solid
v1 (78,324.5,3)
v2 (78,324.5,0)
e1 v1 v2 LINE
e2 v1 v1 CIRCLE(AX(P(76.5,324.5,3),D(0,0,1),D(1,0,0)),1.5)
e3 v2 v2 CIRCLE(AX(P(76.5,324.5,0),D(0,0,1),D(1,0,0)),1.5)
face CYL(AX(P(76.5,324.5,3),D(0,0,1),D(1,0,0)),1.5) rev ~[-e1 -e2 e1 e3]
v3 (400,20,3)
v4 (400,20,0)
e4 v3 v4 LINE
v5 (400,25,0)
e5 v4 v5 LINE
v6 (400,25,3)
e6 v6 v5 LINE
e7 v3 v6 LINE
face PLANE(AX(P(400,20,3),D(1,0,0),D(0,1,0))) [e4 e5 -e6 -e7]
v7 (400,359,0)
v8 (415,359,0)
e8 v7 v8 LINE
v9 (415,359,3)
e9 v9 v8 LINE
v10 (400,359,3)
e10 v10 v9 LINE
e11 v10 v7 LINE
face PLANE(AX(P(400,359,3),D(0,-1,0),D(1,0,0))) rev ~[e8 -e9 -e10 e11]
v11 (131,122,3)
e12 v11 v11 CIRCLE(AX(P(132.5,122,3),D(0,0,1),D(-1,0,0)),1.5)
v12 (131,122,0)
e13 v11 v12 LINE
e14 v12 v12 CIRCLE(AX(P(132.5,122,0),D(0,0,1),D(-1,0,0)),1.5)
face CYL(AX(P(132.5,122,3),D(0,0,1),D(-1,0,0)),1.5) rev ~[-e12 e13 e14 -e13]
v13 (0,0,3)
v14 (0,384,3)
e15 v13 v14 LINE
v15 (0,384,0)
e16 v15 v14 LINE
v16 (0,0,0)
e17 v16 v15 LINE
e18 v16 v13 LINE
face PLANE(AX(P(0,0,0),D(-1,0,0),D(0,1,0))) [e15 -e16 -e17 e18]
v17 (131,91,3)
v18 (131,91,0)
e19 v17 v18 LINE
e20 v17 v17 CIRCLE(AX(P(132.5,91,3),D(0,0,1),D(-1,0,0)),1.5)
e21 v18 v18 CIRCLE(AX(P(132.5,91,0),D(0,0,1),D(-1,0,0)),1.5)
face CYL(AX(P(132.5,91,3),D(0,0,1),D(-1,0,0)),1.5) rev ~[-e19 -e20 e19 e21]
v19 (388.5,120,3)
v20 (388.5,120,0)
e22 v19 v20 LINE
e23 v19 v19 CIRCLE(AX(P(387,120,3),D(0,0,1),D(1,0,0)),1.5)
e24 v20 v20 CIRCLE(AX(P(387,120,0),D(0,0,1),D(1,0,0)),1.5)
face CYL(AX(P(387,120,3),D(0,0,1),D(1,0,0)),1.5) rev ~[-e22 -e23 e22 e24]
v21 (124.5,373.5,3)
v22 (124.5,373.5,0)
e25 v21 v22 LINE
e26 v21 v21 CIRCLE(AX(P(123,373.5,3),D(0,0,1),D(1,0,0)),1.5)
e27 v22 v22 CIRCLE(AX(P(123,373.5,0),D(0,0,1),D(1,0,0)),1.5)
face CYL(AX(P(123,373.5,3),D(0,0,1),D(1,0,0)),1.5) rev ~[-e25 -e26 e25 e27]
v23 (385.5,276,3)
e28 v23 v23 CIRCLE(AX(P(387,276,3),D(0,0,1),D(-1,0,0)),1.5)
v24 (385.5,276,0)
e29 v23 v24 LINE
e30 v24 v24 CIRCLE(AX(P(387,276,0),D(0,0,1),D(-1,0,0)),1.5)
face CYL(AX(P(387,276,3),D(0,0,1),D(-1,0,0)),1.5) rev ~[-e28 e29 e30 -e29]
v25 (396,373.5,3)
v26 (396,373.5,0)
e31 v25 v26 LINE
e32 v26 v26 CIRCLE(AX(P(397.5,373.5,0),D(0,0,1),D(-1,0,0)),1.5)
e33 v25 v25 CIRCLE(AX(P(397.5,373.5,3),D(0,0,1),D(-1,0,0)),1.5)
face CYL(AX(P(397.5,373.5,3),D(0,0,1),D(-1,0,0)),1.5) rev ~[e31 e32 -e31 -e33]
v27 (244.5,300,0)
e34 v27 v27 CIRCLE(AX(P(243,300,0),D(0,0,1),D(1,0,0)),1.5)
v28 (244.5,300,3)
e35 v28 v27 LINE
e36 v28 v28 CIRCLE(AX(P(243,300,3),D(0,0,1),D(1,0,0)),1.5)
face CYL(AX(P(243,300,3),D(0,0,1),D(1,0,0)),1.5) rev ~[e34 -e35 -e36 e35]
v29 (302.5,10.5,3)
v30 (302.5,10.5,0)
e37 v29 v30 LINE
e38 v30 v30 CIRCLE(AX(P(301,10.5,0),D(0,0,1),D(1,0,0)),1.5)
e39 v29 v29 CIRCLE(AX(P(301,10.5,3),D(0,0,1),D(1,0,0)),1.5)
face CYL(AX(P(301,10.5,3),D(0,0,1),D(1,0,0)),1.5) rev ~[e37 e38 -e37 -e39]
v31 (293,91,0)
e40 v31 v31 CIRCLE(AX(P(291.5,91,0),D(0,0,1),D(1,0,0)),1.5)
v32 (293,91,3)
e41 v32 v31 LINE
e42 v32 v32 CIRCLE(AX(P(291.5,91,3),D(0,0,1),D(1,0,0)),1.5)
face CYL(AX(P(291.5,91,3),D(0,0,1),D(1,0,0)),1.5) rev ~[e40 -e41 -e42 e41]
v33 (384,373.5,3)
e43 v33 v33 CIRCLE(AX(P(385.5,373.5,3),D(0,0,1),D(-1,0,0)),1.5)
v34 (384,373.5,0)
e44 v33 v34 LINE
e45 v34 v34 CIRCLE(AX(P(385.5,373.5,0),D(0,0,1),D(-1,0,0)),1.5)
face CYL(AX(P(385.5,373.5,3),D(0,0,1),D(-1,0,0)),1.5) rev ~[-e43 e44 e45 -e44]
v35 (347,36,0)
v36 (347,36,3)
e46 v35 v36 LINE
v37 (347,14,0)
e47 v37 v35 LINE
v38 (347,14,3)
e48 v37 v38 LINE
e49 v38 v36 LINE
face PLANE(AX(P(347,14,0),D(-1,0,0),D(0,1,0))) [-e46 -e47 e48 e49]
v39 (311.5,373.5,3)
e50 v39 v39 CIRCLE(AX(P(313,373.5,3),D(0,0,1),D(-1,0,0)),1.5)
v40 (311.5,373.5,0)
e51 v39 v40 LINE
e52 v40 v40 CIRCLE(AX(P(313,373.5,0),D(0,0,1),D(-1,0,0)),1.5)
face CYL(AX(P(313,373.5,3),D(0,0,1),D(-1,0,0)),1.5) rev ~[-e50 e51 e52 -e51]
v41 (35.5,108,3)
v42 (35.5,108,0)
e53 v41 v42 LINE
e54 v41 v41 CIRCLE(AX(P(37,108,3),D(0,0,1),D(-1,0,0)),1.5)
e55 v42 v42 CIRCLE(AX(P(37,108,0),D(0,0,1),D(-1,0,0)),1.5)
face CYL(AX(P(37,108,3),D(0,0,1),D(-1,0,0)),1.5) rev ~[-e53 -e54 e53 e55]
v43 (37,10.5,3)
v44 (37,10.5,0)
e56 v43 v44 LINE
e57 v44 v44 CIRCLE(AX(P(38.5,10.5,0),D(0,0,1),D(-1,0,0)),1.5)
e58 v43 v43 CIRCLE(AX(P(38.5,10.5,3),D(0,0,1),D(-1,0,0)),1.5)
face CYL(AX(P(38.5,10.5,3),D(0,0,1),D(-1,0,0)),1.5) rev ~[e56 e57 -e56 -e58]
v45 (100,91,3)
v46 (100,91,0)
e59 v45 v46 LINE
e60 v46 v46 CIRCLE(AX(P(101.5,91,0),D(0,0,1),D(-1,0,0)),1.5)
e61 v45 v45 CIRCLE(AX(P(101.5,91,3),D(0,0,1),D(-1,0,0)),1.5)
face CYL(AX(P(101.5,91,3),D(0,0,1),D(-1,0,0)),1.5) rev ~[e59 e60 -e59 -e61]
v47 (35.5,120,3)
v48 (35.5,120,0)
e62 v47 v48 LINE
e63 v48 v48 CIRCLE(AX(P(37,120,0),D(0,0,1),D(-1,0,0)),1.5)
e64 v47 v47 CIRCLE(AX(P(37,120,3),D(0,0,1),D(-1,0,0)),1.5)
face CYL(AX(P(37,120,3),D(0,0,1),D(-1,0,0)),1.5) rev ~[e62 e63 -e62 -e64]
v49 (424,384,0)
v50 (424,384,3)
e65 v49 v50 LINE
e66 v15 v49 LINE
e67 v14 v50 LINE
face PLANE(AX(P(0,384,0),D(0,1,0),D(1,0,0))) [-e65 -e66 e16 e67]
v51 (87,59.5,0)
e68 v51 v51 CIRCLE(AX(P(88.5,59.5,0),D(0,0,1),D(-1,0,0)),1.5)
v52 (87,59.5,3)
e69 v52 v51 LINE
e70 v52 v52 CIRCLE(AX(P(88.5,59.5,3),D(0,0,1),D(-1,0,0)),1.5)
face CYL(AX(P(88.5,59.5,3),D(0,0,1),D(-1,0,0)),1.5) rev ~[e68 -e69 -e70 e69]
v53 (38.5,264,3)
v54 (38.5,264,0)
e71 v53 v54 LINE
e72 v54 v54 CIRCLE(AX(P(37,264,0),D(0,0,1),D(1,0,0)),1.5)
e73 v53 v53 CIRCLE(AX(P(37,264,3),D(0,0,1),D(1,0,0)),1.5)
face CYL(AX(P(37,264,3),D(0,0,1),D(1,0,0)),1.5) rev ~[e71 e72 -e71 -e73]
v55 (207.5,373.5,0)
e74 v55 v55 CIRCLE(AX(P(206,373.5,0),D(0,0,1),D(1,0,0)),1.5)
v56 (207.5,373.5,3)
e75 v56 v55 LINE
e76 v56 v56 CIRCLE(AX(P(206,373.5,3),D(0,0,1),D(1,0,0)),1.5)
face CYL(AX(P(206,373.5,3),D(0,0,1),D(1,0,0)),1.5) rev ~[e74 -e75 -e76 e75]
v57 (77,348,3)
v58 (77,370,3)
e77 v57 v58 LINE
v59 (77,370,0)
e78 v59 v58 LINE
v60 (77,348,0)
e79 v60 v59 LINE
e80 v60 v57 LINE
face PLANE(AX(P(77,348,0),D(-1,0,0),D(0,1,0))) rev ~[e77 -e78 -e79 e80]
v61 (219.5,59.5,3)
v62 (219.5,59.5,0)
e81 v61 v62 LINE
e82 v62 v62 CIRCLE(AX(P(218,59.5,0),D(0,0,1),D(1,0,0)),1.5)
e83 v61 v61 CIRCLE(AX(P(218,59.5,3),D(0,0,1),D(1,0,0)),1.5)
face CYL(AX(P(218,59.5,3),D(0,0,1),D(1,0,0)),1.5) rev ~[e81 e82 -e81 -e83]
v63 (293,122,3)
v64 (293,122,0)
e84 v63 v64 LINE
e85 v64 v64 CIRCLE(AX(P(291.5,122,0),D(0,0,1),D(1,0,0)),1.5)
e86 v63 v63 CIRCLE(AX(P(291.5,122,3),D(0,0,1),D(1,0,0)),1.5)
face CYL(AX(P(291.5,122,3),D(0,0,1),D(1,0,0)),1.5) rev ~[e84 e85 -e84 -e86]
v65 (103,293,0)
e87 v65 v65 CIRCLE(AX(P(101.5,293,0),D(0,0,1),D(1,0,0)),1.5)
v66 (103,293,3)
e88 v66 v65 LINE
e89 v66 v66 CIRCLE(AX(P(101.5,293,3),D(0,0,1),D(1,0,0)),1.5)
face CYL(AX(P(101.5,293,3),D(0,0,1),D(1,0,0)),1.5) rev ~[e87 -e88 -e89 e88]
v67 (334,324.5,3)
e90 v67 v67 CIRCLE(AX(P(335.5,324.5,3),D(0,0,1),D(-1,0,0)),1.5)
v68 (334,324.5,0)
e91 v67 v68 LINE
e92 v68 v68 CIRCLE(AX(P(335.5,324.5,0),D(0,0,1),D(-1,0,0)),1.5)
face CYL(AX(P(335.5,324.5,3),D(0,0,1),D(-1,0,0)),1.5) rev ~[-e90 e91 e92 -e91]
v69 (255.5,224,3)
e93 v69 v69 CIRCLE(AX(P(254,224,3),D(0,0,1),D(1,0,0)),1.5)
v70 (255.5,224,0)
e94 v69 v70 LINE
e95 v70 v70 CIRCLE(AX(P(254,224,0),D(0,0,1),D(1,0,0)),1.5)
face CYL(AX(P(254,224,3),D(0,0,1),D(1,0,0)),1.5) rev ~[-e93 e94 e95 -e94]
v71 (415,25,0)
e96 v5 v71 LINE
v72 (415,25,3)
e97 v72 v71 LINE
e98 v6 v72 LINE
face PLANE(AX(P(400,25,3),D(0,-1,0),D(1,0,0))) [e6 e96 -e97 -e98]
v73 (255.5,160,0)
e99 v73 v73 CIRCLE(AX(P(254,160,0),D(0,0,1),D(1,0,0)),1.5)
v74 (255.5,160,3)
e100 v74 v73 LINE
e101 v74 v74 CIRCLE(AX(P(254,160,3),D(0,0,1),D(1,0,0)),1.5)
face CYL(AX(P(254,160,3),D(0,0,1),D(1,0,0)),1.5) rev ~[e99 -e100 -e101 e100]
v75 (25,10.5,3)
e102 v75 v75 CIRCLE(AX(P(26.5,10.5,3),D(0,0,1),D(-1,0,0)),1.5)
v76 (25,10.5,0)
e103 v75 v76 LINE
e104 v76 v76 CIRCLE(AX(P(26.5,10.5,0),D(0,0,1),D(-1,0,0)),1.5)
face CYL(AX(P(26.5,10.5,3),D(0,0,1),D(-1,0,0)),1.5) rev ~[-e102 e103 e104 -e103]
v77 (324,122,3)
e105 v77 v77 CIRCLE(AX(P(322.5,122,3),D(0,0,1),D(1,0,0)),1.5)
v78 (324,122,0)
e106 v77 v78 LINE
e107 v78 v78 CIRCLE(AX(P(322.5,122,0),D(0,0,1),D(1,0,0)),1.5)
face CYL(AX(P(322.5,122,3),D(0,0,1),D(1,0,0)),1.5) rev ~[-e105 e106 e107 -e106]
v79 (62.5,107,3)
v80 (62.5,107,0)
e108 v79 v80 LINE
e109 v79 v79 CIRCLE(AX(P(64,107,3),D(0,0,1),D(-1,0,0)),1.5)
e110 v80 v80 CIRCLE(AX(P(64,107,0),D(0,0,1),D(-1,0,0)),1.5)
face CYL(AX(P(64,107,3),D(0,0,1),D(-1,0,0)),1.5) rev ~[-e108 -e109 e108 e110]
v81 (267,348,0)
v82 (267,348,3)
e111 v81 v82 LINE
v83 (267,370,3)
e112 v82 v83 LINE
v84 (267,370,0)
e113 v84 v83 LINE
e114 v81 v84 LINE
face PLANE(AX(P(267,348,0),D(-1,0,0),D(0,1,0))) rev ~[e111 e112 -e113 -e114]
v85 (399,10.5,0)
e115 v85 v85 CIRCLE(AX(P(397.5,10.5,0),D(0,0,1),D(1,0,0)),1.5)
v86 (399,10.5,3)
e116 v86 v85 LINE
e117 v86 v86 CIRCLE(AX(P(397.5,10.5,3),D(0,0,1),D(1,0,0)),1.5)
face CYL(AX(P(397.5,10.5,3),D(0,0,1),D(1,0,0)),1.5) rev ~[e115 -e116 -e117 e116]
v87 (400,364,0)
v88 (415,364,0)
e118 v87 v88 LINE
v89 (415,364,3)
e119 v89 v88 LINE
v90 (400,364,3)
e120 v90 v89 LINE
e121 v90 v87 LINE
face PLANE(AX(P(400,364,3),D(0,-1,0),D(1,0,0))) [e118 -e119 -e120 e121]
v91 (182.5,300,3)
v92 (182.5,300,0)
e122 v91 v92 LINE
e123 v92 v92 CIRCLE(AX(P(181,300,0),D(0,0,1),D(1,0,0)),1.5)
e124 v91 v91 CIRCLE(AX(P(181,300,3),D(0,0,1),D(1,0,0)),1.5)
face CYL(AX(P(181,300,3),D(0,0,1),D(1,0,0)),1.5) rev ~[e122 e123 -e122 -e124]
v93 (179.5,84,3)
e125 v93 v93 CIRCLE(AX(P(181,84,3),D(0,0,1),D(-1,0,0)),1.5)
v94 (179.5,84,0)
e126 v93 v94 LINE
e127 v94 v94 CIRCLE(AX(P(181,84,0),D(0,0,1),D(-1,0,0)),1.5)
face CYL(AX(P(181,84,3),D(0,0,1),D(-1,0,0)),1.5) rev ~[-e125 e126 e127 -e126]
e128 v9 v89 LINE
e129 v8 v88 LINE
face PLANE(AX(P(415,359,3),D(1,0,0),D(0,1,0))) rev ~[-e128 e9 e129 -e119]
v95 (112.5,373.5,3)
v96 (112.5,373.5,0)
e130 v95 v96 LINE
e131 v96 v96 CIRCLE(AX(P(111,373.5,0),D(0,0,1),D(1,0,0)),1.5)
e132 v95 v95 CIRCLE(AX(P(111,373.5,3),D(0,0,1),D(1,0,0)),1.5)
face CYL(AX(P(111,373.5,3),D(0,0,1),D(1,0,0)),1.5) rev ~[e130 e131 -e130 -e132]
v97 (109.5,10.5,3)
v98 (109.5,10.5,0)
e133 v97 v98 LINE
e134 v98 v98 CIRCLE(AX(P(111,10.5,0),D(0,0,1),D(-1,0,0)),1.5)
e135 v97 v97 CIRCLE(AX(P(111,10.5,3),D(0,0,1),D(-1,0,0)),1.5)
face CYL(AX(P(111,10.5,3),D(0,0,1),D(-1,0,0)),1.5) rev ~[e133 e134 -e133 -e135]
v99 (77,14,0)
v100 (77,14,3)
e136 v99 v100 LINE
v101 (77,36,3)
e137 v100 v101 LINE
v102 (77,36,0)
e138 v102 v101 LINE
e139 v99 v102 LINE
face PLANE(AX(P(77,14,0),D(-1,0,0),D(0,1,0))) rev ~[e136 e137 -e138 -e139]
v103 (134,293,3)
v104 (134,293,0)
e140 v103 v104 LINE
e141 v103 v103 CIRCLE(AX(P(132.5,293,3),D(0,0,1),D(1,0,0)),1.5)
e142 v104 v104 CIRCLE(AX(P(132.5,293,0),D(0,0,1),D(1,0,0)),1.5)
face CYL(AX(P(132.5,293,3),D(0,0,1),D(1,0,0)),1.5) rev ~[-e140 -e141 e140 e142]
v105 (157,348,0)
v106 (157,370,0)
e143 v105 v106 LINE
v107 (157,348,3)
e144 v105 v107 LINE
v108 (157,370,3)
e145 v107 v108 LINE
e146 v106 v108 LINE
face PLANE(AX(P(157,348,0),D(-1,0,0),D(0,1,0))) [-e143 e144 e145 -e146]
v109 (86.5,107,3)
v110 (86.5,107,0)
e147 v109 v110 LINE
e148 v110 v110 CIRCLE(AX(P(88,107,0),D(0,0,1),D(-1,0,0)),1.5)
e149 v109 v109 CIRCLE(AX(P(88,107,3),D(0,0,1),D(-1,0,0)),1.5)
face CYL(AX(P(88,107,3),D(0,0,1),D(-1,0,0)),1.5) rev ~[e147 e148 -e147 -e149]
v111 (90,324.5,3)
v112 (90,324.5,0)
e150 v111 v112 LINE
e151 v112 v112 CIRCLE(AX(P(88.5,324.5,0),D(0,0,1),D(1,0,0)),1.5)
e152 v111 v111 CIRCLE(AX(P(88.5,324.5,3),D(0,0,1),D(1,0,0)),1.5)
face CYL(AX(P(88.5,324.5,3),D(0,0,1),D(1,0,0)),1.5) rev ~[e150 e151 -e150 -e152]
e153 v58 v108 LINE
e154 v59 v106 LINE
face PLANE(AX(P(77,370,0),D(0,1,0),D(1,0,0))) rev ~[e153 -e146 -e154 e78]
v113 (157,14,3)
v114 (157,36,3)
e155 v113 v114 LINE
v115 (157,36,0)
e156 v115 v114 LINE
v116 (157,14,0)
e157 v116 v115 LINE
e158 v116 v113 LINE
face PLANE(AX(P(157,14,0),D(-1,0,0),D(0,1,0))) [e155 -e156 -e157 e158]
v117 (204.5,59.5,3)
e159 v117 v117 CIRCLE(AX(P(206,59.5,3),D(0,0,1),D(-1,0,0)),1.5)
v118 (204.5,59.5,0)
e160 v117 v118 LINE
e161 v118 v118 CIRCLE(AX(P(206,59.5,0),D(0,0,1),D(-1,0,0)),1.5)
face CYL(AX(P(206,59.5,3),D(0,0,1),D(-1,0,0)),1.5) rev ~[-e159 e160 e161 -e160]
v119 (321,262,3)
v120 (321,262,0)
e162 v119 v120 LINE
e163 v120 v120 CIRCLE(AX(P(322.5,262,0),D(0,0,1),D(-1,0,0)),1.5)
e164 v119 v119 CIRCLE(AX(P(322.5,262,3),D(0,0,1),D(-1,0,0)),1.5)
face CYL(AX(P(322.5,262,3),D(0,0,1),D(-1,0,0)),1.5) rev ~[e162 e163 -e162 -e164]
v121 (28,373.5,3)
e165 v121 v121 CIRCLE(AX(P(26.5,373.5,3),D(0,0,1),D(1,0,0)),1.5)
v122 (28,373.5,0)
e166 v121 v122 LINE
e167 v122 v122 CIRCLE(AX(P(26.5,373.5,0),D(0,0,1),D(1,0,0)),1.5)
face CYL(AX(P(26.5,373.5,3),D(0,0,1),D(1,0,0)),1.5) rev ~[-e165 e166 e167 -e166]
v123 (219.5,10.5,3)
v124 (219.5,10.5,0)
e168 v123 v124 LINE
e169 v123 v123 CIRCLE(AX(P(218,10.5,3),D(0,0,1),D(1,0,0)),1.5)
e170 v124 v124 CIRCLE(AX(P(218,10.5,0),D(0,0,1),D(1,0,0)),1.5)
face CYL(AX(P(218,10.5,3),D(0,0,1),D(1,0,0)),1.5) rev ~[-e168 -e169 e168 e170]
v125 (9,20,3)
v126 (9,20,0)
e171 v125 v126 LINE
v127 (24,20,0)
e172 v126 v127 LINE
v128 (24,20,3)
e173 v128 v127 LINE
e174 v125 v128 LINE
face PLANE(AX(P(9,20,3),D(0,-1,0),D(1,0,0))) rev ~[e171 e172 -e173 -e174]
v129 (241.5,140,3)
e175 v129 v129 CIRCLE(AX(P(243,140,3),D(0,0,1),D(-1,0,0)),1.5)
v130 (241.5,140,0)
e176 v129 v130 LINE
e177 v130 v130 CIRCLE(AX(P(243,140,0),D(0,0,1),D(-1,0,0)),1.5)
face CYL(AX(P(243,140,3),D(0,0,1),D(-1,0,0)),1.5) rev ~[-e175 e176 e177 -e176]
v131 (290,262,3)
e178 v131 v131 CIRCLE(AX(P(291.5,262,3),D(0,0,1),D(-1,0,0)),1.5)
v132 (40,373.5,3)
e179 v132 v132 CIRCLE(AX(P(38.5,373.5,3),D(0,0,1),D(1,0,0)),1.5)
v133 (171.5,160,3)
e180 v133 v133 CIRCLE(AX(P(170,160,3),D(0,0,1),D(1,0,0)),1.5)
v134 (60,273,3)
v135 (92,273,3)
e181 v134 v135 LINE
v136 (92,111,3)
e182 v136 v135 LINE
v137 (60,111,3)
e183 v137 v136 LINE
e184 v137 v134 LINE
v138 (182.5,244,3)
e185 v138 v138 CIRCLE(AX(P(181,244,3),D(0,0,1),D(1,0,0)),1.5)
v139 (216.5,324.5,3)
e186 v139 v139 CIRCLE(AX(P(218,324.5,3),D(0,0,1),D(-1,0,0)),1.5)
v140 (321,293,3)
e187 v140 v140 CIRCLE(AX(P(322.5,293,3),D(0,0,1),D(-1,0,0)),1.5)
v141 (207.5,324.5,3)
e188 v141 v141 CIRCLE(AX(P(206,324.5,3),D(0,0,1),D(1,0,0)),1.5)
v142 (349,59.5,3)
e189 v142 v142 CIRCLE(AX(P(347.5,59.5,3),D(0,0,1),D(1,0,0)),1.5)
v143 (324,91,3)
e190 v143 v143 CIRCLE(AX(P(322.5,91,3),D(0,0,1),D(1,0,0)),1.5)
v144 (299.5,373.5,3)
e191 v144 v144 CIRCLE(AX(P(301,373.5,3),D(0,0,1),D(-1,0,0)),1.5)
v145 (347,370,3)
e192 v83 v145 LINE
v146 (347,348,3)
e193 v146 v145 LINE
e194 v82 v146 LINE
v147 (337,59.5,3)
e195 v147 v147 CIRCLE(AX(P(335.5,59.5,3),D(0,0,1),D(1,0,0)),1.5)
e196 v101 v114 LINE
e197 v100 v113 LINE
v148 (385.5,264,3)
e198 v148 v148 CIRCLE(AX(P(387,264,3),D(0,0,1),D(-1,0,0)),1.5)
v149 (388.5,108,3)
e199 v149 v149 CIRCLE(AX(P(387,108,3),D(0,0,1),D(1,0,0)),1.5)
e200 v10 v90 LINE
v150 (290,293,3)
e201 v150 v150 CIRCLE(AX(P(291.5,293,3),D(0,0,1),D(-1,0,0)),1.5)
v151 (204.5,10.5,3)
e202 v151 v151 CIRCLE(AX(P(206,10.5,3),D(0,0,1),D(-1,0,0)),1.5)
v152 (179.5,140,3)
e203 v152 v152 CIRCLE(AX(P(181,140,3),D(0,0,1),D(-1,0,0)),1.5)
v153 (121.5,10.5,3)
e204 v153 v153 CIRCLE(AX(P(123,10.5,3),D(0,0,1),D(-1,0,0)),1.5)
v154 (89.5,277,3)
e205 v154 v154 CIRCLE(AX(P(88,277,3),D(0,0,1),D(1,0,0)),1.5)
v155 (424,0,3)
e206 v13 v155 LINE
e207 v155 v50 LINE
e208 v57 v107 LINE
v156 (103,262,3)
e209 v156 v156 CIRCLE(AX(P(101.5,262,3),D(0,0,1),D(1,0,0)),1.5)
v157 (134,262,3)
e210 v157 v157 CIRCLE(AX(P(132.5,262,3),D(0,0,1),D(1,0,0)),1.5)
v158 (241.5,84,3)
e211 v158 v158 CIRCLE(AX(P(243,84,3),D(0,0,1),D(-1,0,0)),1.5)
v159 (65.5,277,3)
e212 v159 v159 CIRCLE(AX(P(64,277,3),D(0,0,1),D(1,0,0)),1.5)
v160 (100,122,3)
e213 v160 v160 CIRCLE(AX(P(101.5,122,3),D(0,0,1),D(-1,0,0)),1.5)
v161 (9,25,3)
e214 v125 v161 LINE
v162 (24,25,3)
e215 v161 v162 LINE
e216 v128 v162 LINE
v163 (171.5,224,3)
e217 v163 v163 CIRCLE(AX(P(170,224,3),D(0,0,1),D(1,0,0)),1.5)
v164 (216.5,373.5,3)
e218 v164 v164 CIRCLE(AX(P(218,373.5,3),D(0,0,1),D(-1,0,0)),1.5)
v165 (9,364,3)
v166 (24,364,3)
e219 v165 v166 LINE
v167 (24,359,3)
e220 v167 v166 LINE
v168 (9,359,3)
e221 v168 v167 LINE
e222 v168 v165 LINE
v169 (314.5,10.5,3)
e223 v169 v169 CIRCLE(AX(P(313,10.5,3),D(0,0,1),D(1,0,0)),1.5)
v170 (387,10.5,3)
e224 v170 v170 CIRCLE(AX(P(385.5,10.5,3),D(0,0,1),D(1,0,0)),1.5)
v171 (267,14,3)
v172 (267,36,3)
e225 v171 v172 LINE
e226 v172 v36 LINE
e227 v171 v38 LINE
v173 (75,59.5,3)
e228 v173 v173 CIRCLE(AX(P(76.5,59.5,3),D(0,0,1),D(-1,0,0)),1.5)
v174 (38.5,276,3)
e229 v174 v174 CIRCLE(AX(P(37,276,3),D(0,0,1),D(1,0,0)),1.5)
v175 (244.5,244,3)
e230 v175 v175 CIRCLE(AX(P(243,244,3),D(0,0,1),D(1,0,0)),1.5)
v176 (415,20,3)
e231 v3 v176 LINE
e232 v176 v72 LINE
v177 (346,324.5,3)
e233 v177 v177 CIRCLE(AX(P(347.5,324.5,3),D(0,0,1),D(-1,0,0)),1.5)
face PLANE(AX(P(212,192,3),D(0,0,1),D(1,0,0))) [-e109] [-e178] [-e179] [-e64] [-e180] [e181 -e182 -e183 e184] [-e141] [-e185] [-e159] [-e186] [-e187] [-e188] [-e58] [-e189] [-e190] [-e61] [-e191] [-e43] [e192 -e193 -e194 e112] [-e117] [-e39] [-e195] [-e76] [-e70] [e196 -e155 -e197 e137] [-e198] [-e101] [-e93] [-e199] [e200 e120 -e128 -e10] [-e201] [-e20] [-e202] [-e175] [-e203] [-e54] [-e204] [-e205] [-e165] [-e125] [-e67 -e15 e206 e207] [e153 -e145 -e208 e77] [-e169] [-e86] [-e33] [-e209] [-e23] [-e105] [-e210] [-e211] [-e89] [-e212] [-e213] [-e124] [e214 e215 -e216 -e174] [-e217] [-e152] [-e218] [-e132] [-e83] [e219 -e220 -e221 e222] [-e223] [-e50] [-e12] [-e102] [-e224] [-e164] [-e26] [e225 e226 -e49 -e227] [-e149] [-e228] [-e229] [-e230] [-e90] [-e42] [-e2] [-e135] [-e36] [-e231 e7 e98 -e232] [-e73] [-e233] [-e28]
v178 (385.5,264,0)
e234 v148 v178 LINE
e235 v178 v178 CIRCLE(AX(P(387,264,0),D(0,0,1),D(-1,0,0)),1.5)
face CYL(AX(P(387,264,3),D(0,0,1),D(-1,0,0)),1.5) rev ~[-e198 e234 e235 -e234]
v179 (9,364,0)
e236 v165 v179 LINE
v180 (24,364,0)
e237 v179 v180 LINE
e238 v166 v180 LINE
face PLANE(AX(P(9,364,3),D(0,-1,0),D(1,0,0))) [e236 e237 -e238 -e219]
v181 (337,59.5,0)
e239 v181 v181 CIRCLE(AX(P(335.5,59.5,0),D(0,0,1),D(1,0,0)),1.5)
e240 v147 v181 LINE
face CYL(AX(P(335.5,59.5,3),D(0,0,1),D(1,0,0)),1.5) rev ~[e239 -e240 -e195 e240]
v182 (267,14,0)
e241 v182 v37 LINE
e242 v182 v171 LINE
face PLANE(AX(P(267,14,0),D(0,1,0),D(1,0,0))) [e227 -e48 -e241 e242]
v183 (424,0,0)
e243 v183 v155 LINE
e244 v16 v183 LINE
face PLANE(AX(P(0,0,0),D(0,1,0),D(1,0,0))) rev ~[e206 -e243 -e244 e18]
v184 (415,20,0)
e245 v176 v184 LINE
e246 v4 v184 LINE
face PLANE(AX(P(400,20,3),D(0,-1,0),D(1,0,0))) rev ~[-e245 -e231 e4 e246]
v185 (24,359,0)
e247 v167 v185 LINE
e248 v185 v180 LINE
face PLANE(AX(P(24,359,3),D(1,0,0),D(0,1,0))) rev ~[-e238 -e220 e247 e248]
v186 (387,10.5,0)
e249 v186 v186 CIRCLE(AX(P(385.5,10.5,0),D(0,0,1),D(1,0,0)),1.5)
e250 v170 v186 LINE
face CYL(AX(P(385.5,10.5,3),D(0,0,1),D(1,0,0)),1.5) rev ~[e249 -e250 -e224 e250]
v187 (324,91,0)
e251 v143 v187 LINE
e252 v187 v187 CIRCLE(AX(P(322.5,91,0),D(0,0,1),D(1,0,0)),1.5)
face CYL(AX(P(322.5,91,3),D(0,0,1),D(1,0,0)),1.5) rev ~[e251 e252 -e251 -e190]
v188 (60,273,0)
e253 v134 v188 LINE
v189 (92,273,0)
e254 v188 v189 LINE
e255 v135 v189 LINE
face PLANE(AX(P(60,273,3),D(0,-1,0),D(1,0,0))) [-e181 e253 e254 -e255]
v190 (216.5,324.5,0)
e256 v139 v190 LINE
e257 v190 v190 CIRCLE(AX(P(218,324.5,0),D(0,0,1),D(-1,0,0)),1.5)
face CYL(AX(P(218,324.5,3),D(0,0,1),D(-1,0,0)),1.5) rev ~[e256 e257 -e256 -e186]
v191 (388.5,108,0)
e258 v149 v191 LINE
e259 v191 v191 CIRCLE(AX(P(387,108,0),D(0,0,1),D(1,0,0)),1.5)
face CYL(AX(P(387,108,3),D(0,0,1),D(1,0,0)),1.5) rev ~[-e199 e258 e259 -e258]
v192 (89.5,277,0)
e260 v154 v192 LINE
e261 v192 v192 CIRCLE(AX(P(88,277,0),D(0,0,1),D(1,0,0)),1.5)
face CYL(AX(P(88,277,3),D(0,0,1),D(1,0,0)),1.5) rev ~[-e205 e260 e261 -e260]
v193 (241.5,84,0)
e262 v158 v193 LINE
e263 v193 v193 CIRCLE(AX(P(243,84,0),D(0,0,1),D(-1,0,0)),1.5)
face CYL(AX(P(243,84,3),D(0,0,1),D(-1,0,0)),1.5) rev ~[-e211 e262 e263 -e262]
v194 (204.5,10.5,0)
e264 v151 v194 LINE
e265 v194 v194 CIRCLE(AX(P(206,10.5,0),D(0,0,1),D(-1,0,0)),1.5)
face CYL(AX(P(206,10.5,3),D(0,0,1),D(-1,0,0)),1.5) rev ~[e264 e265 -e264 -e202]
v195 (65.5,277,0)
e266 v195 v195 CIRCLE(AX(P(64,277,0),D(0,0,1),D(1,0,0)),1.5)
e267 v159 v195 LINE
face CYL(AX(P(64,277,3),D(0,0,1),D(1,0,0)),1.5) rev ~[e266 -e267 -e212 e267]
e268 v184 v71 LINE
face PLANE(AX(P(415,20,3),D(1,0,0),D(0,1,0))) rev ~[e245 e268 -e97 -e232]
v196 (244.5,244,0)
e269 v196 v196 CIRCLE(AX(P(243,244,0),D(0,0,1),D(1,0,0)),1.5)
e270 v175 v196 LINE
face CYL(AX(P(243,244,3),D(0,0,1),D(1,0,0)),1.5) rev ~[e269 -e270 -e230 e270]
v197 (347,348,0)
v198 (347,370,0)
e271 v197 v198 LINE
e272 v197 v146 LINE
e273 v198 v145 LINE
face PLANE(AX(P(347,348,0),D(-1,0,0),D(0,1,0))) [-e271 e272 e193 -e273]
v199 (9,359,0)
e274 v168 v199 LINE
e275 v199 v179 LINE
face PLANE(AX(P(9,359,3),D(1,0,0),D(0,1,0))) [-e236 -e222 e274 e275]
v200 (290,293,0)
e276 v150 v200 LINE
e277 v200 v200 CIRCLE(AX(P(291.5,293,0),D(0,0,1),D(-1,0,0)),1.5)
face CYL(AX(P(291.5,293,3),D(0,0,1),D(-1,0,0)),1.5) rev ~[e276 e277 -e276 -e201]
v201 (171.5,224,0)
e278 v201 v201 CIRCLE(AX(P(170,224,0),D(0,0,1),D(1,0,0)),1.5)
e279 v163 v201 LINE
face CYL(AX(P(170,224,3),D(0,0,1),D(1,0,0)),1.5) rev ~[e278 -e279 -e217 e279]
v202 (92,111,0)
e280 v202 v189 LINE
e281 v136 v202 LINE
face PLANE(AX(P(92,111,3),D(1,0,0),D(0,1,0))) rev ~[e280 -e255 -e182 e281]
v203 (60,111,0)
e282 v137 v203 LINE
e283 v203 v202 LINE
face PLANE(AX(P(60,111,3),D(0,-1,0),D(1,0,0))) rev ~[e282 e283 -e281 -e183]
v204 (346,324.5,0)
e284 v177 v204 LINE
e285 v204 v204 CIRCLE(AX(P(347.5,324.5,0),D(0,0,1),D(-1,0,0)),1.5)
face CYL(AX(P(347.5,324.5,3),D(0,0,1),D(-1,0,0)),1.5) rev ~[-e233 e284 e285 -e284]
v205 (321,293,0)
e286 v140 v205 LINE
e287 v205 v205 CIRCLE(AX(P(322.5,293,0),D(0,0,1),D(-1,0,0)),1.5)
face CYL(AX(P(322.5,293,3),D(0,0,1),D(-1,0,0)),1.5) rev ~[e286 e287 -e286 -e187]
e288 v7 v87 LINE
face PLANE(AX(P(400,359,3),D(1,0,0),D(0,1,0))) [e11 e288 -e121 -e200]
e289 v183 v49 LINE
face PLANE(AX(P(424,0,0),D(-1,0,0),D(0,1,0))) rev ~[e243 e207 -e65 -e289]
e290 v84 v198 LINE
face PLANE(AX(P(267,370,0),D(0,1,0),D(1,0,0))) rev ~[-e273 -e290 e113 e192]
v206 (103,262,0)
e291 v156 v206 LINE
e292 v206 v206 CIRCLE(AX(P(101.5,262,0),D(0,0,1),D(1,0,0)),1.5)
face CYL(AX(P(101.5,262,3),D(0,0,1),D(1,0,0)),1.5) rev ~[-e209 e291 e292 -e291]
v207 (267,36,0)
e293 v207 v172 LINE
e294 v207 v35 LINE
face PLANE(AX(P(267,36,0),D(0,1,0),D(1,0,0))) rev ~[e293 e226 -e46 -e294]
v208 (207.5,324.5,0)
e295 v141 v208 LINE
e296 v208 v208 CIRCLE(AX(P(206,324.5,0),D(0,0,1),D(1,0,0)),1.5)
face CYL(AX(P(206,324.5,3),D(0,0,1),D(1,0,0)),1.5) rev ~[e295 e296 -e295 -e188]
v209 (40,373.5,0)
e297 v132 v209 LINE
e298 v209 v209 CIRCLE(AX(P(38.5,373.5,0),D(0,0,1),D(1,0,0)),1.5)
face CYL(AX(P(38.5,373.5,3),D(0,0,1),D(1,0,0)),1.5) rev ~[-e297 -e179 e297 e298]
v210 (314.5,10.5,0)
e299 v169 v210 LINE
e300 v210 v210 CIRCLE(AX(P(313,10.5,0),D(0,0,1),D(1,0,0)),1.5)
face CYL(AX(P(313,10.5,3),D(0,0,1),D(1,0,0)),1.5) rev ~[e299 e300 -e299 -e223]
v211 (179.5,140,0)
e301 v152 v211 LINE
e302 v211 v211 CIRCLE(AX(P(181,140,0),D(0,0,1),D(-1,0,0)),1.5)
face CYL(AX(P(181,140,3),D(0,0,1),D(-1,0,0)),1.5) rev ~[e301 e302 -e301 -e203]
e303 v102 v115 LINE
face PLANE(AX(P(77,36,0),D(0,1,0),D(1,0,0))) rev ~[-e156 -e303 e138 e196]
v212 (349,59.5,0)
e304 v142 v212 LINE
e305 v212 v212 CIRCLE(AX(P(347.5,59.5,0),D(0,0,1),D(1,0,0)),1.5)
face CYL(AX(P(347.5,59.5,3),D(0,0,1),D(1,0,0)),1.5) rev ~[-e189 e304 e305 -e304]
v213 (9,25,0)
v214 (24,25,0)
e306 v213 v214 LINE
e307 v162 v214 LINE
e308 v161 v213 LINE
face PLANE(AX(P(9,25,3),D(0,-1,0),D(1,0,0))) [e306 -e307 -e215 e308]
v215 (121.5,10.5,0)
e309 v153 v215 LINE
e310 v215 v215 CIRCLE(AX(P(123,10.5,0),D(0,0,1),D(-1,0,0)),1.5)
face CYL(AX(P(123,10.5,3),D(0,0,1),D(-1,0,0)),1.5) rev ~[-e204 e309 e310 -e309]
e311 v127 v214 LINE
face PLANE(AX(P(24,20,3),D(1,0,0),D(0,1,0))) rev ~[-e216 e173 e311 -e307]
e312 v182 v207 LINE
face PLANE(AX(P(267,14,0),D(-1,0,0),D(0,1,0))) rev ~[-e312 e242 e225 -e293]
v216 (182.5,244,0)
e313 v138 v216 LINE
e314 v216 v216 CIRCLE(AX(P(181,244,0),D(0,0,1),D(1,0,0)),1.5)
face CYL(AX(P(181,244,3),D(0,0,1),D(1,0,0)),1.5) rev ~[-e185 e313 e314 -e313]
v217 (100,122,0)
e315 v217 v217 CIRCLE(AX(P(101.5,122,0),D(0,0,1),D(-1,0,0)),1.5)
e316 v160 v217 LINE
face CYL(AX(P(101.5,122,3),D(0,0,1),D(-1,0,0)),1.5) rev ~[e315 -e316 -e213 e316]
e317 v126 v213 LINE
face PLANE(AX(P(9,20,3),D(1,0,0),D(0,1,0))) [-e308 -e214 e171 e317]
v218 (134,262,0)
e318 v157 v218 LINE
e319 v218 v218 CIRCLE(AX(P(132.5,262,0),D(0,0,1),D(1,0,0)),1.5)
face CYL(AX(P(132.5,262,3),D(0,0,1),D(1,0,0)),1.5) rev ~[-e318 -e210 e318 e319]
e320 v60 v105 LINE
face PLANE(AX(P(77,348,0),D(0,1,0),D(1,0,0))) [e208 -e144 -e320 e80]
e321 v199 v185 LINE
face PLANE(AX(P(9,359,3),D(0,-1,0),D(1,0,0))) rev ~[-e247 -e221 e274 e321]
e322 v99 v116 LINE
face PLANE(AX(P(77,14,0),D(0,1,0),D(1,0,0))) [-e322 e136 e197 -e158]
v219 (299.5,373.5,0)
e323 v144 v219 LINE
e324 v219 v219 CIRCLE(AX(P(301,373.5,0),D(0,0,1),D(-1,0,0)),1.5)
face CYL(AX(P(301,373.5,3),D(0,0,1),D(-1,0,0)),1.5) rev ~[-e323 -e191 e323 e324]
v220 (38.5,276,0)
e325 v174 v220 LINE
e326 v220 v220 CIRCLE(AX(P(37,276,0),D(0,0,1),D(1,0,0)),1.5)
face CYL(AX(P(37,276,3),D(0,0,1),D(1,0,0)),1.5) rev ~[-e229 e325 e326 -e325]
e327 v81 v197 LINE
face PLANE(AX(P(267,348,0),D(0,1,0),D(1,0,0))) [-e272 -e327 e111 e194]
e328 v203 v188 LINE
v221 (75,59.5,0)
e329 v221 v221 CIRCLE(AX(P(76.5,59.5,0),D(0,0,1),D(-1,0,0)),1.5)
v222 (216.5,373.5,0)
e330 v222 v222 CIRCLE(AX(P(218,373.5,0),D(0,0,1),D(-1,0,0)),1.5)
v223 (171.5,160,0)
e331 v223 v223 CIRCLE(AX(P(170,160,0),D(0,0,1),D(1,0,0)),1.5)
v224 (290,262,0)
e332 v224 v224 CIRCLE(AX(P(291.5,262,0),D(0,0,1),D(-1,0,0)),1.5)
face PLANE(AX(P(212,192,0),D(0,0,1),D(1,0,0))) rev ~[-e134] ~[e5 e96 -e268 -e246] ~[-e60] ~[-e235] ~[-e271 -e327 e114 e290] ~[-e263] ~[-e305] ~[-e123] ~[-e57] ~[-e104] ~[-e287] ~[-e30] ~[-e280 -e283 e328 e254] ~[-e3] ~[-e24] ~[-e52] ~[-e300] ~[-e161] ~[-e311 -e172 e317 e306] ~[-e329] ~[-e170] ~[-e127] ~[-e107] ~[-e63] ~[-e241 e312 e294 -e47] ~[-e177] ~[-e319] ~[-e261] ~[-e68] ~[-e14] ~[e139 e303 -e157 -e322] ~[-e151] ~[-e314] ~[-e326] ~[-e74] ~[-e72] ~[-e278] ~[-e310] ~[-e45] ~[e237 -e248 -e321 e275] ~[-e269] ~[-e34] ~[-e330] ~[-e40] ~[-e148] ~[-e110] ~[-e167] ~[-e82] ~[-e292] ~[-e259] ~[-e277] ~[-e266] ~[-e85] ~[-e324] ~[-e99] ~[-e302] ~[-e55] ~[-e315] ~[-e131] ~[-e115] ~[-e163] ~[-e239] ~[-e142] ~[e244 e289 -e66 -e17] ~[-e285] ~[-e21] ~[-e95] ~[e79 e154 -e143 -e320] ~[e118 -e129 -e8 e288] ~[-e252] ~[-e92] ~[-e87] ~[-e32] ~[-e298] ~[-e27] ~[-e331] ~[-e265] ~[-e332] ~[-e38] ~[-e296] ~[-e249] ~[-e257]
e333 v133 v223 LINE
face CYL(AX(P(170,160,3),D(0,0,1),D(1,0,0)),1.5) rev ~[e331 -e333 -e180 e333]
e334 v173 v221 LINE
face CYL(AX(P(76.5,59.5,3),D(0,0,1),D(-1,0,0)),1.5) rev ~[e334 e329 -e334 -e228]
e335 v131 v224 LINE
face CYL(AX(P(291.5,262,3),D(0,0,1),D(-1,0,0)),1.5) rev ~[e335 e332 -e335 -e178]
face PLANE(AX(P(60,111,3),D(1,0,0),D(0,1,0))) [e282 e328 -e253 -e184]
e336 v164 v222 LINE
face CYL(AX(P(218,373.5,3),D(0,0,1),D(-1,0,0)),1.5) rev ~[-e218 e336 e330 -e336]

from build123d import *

# Parameters (mm, degrees)
SKETCH_1_W          = 424
SKETCH_1_H          = 384
SKETCH_1_W_2        = 80
SKETCH_1_H_2        = 22
EXTRUDE_1_DEPTH     = 3
SKETCH_2_R          = 1.5
SKETCH_2_W          = 32
SKETCH_2_H          = 162
CUT_EXTRUDE_1_DEPTH = 573.049823005
SKETCH_3_R          = 1.5
CUT_EXTRUDE_2_DEPTH = 573.049823005
SKETCH_4_R          = 1.5
CUT_EXTRUDE_3_DEPTH = 573.049823005
SKETCH_5_W          = 15
SKETCH_5_H          = 5
CUT_EXTRUDE_4_DEPTH = 573.049823005
SKETCH_6_R          = 1.5
CUT_EXTRUDE_5_DEPTH = 573.049823005


with BuildPart() as part:
    # 草图1 → 凸台-拉伸1 (new body)
    with BuildSketch(Plane.XY):
        with Locations((212, 192)):
            Rectangle(SKETCH_1_W, SKETCH_1_H)
        with Locations((307, 359)):
            Rectangle(SKETCH_1_W_2, SKETCH_1_H_2, mode=Mode.SUBTRACT)
        with Locations((117, 359)):
            Rectangle(SKETCH_1_W_2, SKETCH_1_H_2, mode=Mode.SUBTRACT)
        with Locations((307, 25)):
            Rectangle(SKETCH_1_W_2, SKETCH_1_H_2, mode=Mode.SUBTRACT)
        with Locations((117, 25)):
            Rectangle(SKETCH_1_W_2, SKETCH_1_H_2, mode=Mode.SUBTRACT)
    extrude(amount=EXTRUDE_1_DEPTH)

    # 草图2 → 切除-拉伸1 (cut, through all)
    with BuildSketch(Plane.XY.offset(3)):
        with Locations((64, 277)):
            Circle(SKETCH_2_R)
        with Locations((88, 277)):
            Circle(SKETCH_2_R)
        with Locations(Location((88, 107, 0), (0, 0, 180))):
            Circle(SKETCH_2_R)
        with Locations(Location((64, 107, 0), (0, 0, 180))):
            Circle(SKETCH_2_R)
        with Locations((76, 192)):
            Rectangle(SKETCH_2_W, SKETCH_2_H)
    extrude(amount=-CUT_EXTRUDE_1_DEPTH, mode=Mode.SUBTRACT)

    # 草图3 → 切除-拉伸2 (cut, through all)
    with BuildSketch(Plane.XY.offset(3)):
        with Locations((101.5, 293)):
            Circle(SKETCH_3_R)
        with Locations((132.5, 293)):
            Circle(SKETCH_3_R)
        with Locations((101.5, 262)):
            Circle(SKETCH_3_R)
        with Locations((132.5, 262)):
            Circle(SKETCH_3_R)
        with Locations(Location((322.5, 262, 0), (0, 0, 180))):
            Circle(SKETCH_3_R)
        with Locations(Location((291.5, 262, 0), (0, 0, 180))):
            Circle(SKETCH_3_R)
        with Locations(Location((291.5, 293, 0), (0, 0, 180))):
            Circle(SKETCH_3_R)
        with Locations(Location((322.5, 293, 0), (0, 0, 180))):
            Circle(SKETCH_3_R)
        with Locations((291.5, 122)):
            Circle(SKETCH_3_R)
        with Locations((322.5, 122)):
            Circle(SKETCH_3_R)
        with Locations((322.5, 91)):
            Circle(SKETCH_3_R)
        with Locations((291.5, 91)):
            Circle(SKETCH_3_R)
        with Locations(Location((101.5, 122, 0), (0, 0, 180))):
            Circle(SKETCH_3_R)
        with Locations(Location((132.5, 122, 0), (0, 0, 180))):
            Circle(SKETCH_3_R)
        with Locations(Location((132.5, 91, 0), (0, 0, 180))):
            Circle(SKETCH_3_R)
        with Locations(Location((101.5, 91, 0), (0, 0, 180))):
            Circle(SKETCH_3_R)
    extrude(amount=-CUT_EXTRUDE_2_DEPTH, mode=Mode.SUBTRACT)

    # 草图4 → 切除-拉伸3 (cut, through all)
    with BuildSketch(Plane.XY.offset(3)):
        with Locations((218, 10.5)):
            Circle(SKETCH_4_R)
        with Locations((301, 10.5)):
            Circle(SKETCH_4_R)
        with Locations((313, 10.5)):
            Circle(SKETCH_4_R)
        with Locations((385.5, 10.5)):
            Circle(SKETCH_4_R)
        with Locations((397.5, 10.5)):
            Circle(SKETCH_4_R)
        with Locations((218, 59.5)):
            Circle(SKETCH_4_R)
        with Locations((335.5, 59.5)):
            Circle(SKETCH_4_R)
        with Locations((347.5, 59.5)):
            Circle(SKETCH_4_R)
        with Locations((387, 108)):
            Circle(SKETCH_4_R)
        with Locations((387, 120)):
            Circle(SKETCH_4_R)
        with Locations(Location((387, 276, 0), (0, 0, 180))):
            Circle(SKETCH_4_R)
        with Locations(Location((387, 264, 0), (0, 0, 180))):
            Circle(SKETCH_4_R)
        with Locations(Location((301, 373.5, 0), (0, 0, 180))):
            Circle(SKETCH_4_R)
        with Locations(Location((313, 373.5, 0), (0, 0, 180))):
            Circle(SKETCH_4_R)
        with Locations(Location((397.5, 373.5, 0), (0, 0, 180))):
            Circle(SKETCH_4_R)
        with Locations(Location((385.5, 373.5, 0), (0, 0, 180))):
            Circle(SKETCH_4_R)
        with Locations(Location((347.5, 324.5, 0), (0, 0, 180))):
            Circle(SKETCH_4_R)
        with Locations(Location((335.5, 324.5, 0), (0, 0, 180))):
            Circle(SKETCH_4_R)
        with Locations(Location((218, 373.5, 0), (0, 0, 180))):
            Circle(SKETCH_4_R)
        with Locations(Location((206, 59.5, 0), (0, 0, 180))):
            Circle(SKETCH_4_R)
        with Locations(Location((206, 10.5, 0), (0, 0, 180))):
            Circle(SKETCH_4_R)
        with Locations(Location((111, 10.5, 0), (0, 0, 180))):
            Circle(SKETCH_4_R)
        with Locations(Location((123, 10.5, 0), (0, 0, 180))):
            Circle(SKETCH_4_R)
        with Locations(Location((26.5, 10.5, 0), (0, 0, 180))):
            Circle(SKETCH_4_R)
        with Locations(Location((38.5, 10.5, 0), (0, 0, 180))):
            Circle(SKETCH_4_R)
        with Locations(Location((76.5, 59.5, 0), (0, 0, 180))):
            Circle(SKETCH_4_R)
        with Locations(Location((88.5, 59.5, 0), (0, 0, 180))):
            Circle(SKETCH_4_R)
        with Locations(Location((37, 108, 0), (0, 0, 180))):
            Circle(SKETCH_4_R)
        with Locations(Location((37, 120, 0), (0, 0, 180))):
            Circle(SKETCH_4_R)
        with Locations((37, 264)):
            Circle(SKETCH_4_R)
        with Locations((37, 276)):
            Circle(SKETCH_4_R)
        with Locations((26.5, 373.5)):
            Circle(SKETCH_4_R)
        with Locations((38.5, 373.5)):
            Circle(SKETCH_4_R)
        with Locations((76.5, 324.5)):
            Circle(SKETCH_4_R)
        with Locations((88.5, 324.5)):
            Circle(SKETCH_4_R)
        with Locations((111, 373.5)):
            Circle(SKETCH_4_R)
        with Locations((123, 373.5)):
            Circle(SKETCH_4_R)
        with Locations((206, 373.5)):
            Circle(SKETCH_4_R)
        with Locations((206, 324.5)):
            Circle(SKETCH_4_R)
        with Locations(Location((218, 324.5, 0), (0, 0, 180))):
            Circle(SKETCH_4_R)
    extrude(amount=-CUT_EXTRUDE_3_DEPTH, mode=Mode.SUBTRACT)

    # 草图5 → 切除-拉伸4 (cut, through all)
    with BuildSketch(Plane.XY.offset(3)):
        with Locations((16.5, 361.5)):
            Rectangle(SKETCH_5_W, SKETCH_5_H)
        with Locations((407.5, 361.5)):
            Rectangle(SKETCH_5_W, SKETCH_5_H)
        with Locations((407.5, 22.5)):
            Rectangle(SKETCH_5_W, SKETCH_5_H)
        with Locations((16.5, 22.5)):
            Rectangle(SKETCH_5_W, SKETCH_5_H)
    extrude(amount=-CUT_EXTRUDE_4_DEPTH, mode=Mode.SUBTRACT)

    # 草图6 → 切除-拉伸5 (cut, through all)
    with BuildSketch(Plane.XY.offset(3)):
        with Locations((170, 224)):
            Circle(SKETCH_6_R)
        with Locations((170, 160)):
            Circle(SKETCH_6_R)
        with Locations((254, 160)):
            Circle(SKETCH_6_R)
        with Locations((254, 224)):
            Circle(SKETCH_6_R)
        with Locations((181, 300)):
            Circle(SKETCH_6_R)
        with Locations((243, 300)):
            Circle(SKETCH_6_R)
        with Locations((243, 244)):
            Circle(SKETCH_6_R)
        with Locations((181, 244)):
            Circle(SKETCH_6_R)
        with Locations(Location((181, 140, 0), (0, 0, 180))):
            Circle(SKETCH_6_R)
        with Locations(Location((243, 140, 0), (0, 0, 180))):
            Circle(SKETCH_6_R)
        with Locations(Location((243, 84, 0), (0, 0, 180))):
            Circle(SKETCH_6_R)
        with Locations(Location((181, 84, 0), (0, 0, 180))):
            Circle(SKETCH_6_R)
    extrude(amount=-CUT_EXTRUDE_5_DEPTH, mode=Mode.SUBTRACT)


solid = part.part
